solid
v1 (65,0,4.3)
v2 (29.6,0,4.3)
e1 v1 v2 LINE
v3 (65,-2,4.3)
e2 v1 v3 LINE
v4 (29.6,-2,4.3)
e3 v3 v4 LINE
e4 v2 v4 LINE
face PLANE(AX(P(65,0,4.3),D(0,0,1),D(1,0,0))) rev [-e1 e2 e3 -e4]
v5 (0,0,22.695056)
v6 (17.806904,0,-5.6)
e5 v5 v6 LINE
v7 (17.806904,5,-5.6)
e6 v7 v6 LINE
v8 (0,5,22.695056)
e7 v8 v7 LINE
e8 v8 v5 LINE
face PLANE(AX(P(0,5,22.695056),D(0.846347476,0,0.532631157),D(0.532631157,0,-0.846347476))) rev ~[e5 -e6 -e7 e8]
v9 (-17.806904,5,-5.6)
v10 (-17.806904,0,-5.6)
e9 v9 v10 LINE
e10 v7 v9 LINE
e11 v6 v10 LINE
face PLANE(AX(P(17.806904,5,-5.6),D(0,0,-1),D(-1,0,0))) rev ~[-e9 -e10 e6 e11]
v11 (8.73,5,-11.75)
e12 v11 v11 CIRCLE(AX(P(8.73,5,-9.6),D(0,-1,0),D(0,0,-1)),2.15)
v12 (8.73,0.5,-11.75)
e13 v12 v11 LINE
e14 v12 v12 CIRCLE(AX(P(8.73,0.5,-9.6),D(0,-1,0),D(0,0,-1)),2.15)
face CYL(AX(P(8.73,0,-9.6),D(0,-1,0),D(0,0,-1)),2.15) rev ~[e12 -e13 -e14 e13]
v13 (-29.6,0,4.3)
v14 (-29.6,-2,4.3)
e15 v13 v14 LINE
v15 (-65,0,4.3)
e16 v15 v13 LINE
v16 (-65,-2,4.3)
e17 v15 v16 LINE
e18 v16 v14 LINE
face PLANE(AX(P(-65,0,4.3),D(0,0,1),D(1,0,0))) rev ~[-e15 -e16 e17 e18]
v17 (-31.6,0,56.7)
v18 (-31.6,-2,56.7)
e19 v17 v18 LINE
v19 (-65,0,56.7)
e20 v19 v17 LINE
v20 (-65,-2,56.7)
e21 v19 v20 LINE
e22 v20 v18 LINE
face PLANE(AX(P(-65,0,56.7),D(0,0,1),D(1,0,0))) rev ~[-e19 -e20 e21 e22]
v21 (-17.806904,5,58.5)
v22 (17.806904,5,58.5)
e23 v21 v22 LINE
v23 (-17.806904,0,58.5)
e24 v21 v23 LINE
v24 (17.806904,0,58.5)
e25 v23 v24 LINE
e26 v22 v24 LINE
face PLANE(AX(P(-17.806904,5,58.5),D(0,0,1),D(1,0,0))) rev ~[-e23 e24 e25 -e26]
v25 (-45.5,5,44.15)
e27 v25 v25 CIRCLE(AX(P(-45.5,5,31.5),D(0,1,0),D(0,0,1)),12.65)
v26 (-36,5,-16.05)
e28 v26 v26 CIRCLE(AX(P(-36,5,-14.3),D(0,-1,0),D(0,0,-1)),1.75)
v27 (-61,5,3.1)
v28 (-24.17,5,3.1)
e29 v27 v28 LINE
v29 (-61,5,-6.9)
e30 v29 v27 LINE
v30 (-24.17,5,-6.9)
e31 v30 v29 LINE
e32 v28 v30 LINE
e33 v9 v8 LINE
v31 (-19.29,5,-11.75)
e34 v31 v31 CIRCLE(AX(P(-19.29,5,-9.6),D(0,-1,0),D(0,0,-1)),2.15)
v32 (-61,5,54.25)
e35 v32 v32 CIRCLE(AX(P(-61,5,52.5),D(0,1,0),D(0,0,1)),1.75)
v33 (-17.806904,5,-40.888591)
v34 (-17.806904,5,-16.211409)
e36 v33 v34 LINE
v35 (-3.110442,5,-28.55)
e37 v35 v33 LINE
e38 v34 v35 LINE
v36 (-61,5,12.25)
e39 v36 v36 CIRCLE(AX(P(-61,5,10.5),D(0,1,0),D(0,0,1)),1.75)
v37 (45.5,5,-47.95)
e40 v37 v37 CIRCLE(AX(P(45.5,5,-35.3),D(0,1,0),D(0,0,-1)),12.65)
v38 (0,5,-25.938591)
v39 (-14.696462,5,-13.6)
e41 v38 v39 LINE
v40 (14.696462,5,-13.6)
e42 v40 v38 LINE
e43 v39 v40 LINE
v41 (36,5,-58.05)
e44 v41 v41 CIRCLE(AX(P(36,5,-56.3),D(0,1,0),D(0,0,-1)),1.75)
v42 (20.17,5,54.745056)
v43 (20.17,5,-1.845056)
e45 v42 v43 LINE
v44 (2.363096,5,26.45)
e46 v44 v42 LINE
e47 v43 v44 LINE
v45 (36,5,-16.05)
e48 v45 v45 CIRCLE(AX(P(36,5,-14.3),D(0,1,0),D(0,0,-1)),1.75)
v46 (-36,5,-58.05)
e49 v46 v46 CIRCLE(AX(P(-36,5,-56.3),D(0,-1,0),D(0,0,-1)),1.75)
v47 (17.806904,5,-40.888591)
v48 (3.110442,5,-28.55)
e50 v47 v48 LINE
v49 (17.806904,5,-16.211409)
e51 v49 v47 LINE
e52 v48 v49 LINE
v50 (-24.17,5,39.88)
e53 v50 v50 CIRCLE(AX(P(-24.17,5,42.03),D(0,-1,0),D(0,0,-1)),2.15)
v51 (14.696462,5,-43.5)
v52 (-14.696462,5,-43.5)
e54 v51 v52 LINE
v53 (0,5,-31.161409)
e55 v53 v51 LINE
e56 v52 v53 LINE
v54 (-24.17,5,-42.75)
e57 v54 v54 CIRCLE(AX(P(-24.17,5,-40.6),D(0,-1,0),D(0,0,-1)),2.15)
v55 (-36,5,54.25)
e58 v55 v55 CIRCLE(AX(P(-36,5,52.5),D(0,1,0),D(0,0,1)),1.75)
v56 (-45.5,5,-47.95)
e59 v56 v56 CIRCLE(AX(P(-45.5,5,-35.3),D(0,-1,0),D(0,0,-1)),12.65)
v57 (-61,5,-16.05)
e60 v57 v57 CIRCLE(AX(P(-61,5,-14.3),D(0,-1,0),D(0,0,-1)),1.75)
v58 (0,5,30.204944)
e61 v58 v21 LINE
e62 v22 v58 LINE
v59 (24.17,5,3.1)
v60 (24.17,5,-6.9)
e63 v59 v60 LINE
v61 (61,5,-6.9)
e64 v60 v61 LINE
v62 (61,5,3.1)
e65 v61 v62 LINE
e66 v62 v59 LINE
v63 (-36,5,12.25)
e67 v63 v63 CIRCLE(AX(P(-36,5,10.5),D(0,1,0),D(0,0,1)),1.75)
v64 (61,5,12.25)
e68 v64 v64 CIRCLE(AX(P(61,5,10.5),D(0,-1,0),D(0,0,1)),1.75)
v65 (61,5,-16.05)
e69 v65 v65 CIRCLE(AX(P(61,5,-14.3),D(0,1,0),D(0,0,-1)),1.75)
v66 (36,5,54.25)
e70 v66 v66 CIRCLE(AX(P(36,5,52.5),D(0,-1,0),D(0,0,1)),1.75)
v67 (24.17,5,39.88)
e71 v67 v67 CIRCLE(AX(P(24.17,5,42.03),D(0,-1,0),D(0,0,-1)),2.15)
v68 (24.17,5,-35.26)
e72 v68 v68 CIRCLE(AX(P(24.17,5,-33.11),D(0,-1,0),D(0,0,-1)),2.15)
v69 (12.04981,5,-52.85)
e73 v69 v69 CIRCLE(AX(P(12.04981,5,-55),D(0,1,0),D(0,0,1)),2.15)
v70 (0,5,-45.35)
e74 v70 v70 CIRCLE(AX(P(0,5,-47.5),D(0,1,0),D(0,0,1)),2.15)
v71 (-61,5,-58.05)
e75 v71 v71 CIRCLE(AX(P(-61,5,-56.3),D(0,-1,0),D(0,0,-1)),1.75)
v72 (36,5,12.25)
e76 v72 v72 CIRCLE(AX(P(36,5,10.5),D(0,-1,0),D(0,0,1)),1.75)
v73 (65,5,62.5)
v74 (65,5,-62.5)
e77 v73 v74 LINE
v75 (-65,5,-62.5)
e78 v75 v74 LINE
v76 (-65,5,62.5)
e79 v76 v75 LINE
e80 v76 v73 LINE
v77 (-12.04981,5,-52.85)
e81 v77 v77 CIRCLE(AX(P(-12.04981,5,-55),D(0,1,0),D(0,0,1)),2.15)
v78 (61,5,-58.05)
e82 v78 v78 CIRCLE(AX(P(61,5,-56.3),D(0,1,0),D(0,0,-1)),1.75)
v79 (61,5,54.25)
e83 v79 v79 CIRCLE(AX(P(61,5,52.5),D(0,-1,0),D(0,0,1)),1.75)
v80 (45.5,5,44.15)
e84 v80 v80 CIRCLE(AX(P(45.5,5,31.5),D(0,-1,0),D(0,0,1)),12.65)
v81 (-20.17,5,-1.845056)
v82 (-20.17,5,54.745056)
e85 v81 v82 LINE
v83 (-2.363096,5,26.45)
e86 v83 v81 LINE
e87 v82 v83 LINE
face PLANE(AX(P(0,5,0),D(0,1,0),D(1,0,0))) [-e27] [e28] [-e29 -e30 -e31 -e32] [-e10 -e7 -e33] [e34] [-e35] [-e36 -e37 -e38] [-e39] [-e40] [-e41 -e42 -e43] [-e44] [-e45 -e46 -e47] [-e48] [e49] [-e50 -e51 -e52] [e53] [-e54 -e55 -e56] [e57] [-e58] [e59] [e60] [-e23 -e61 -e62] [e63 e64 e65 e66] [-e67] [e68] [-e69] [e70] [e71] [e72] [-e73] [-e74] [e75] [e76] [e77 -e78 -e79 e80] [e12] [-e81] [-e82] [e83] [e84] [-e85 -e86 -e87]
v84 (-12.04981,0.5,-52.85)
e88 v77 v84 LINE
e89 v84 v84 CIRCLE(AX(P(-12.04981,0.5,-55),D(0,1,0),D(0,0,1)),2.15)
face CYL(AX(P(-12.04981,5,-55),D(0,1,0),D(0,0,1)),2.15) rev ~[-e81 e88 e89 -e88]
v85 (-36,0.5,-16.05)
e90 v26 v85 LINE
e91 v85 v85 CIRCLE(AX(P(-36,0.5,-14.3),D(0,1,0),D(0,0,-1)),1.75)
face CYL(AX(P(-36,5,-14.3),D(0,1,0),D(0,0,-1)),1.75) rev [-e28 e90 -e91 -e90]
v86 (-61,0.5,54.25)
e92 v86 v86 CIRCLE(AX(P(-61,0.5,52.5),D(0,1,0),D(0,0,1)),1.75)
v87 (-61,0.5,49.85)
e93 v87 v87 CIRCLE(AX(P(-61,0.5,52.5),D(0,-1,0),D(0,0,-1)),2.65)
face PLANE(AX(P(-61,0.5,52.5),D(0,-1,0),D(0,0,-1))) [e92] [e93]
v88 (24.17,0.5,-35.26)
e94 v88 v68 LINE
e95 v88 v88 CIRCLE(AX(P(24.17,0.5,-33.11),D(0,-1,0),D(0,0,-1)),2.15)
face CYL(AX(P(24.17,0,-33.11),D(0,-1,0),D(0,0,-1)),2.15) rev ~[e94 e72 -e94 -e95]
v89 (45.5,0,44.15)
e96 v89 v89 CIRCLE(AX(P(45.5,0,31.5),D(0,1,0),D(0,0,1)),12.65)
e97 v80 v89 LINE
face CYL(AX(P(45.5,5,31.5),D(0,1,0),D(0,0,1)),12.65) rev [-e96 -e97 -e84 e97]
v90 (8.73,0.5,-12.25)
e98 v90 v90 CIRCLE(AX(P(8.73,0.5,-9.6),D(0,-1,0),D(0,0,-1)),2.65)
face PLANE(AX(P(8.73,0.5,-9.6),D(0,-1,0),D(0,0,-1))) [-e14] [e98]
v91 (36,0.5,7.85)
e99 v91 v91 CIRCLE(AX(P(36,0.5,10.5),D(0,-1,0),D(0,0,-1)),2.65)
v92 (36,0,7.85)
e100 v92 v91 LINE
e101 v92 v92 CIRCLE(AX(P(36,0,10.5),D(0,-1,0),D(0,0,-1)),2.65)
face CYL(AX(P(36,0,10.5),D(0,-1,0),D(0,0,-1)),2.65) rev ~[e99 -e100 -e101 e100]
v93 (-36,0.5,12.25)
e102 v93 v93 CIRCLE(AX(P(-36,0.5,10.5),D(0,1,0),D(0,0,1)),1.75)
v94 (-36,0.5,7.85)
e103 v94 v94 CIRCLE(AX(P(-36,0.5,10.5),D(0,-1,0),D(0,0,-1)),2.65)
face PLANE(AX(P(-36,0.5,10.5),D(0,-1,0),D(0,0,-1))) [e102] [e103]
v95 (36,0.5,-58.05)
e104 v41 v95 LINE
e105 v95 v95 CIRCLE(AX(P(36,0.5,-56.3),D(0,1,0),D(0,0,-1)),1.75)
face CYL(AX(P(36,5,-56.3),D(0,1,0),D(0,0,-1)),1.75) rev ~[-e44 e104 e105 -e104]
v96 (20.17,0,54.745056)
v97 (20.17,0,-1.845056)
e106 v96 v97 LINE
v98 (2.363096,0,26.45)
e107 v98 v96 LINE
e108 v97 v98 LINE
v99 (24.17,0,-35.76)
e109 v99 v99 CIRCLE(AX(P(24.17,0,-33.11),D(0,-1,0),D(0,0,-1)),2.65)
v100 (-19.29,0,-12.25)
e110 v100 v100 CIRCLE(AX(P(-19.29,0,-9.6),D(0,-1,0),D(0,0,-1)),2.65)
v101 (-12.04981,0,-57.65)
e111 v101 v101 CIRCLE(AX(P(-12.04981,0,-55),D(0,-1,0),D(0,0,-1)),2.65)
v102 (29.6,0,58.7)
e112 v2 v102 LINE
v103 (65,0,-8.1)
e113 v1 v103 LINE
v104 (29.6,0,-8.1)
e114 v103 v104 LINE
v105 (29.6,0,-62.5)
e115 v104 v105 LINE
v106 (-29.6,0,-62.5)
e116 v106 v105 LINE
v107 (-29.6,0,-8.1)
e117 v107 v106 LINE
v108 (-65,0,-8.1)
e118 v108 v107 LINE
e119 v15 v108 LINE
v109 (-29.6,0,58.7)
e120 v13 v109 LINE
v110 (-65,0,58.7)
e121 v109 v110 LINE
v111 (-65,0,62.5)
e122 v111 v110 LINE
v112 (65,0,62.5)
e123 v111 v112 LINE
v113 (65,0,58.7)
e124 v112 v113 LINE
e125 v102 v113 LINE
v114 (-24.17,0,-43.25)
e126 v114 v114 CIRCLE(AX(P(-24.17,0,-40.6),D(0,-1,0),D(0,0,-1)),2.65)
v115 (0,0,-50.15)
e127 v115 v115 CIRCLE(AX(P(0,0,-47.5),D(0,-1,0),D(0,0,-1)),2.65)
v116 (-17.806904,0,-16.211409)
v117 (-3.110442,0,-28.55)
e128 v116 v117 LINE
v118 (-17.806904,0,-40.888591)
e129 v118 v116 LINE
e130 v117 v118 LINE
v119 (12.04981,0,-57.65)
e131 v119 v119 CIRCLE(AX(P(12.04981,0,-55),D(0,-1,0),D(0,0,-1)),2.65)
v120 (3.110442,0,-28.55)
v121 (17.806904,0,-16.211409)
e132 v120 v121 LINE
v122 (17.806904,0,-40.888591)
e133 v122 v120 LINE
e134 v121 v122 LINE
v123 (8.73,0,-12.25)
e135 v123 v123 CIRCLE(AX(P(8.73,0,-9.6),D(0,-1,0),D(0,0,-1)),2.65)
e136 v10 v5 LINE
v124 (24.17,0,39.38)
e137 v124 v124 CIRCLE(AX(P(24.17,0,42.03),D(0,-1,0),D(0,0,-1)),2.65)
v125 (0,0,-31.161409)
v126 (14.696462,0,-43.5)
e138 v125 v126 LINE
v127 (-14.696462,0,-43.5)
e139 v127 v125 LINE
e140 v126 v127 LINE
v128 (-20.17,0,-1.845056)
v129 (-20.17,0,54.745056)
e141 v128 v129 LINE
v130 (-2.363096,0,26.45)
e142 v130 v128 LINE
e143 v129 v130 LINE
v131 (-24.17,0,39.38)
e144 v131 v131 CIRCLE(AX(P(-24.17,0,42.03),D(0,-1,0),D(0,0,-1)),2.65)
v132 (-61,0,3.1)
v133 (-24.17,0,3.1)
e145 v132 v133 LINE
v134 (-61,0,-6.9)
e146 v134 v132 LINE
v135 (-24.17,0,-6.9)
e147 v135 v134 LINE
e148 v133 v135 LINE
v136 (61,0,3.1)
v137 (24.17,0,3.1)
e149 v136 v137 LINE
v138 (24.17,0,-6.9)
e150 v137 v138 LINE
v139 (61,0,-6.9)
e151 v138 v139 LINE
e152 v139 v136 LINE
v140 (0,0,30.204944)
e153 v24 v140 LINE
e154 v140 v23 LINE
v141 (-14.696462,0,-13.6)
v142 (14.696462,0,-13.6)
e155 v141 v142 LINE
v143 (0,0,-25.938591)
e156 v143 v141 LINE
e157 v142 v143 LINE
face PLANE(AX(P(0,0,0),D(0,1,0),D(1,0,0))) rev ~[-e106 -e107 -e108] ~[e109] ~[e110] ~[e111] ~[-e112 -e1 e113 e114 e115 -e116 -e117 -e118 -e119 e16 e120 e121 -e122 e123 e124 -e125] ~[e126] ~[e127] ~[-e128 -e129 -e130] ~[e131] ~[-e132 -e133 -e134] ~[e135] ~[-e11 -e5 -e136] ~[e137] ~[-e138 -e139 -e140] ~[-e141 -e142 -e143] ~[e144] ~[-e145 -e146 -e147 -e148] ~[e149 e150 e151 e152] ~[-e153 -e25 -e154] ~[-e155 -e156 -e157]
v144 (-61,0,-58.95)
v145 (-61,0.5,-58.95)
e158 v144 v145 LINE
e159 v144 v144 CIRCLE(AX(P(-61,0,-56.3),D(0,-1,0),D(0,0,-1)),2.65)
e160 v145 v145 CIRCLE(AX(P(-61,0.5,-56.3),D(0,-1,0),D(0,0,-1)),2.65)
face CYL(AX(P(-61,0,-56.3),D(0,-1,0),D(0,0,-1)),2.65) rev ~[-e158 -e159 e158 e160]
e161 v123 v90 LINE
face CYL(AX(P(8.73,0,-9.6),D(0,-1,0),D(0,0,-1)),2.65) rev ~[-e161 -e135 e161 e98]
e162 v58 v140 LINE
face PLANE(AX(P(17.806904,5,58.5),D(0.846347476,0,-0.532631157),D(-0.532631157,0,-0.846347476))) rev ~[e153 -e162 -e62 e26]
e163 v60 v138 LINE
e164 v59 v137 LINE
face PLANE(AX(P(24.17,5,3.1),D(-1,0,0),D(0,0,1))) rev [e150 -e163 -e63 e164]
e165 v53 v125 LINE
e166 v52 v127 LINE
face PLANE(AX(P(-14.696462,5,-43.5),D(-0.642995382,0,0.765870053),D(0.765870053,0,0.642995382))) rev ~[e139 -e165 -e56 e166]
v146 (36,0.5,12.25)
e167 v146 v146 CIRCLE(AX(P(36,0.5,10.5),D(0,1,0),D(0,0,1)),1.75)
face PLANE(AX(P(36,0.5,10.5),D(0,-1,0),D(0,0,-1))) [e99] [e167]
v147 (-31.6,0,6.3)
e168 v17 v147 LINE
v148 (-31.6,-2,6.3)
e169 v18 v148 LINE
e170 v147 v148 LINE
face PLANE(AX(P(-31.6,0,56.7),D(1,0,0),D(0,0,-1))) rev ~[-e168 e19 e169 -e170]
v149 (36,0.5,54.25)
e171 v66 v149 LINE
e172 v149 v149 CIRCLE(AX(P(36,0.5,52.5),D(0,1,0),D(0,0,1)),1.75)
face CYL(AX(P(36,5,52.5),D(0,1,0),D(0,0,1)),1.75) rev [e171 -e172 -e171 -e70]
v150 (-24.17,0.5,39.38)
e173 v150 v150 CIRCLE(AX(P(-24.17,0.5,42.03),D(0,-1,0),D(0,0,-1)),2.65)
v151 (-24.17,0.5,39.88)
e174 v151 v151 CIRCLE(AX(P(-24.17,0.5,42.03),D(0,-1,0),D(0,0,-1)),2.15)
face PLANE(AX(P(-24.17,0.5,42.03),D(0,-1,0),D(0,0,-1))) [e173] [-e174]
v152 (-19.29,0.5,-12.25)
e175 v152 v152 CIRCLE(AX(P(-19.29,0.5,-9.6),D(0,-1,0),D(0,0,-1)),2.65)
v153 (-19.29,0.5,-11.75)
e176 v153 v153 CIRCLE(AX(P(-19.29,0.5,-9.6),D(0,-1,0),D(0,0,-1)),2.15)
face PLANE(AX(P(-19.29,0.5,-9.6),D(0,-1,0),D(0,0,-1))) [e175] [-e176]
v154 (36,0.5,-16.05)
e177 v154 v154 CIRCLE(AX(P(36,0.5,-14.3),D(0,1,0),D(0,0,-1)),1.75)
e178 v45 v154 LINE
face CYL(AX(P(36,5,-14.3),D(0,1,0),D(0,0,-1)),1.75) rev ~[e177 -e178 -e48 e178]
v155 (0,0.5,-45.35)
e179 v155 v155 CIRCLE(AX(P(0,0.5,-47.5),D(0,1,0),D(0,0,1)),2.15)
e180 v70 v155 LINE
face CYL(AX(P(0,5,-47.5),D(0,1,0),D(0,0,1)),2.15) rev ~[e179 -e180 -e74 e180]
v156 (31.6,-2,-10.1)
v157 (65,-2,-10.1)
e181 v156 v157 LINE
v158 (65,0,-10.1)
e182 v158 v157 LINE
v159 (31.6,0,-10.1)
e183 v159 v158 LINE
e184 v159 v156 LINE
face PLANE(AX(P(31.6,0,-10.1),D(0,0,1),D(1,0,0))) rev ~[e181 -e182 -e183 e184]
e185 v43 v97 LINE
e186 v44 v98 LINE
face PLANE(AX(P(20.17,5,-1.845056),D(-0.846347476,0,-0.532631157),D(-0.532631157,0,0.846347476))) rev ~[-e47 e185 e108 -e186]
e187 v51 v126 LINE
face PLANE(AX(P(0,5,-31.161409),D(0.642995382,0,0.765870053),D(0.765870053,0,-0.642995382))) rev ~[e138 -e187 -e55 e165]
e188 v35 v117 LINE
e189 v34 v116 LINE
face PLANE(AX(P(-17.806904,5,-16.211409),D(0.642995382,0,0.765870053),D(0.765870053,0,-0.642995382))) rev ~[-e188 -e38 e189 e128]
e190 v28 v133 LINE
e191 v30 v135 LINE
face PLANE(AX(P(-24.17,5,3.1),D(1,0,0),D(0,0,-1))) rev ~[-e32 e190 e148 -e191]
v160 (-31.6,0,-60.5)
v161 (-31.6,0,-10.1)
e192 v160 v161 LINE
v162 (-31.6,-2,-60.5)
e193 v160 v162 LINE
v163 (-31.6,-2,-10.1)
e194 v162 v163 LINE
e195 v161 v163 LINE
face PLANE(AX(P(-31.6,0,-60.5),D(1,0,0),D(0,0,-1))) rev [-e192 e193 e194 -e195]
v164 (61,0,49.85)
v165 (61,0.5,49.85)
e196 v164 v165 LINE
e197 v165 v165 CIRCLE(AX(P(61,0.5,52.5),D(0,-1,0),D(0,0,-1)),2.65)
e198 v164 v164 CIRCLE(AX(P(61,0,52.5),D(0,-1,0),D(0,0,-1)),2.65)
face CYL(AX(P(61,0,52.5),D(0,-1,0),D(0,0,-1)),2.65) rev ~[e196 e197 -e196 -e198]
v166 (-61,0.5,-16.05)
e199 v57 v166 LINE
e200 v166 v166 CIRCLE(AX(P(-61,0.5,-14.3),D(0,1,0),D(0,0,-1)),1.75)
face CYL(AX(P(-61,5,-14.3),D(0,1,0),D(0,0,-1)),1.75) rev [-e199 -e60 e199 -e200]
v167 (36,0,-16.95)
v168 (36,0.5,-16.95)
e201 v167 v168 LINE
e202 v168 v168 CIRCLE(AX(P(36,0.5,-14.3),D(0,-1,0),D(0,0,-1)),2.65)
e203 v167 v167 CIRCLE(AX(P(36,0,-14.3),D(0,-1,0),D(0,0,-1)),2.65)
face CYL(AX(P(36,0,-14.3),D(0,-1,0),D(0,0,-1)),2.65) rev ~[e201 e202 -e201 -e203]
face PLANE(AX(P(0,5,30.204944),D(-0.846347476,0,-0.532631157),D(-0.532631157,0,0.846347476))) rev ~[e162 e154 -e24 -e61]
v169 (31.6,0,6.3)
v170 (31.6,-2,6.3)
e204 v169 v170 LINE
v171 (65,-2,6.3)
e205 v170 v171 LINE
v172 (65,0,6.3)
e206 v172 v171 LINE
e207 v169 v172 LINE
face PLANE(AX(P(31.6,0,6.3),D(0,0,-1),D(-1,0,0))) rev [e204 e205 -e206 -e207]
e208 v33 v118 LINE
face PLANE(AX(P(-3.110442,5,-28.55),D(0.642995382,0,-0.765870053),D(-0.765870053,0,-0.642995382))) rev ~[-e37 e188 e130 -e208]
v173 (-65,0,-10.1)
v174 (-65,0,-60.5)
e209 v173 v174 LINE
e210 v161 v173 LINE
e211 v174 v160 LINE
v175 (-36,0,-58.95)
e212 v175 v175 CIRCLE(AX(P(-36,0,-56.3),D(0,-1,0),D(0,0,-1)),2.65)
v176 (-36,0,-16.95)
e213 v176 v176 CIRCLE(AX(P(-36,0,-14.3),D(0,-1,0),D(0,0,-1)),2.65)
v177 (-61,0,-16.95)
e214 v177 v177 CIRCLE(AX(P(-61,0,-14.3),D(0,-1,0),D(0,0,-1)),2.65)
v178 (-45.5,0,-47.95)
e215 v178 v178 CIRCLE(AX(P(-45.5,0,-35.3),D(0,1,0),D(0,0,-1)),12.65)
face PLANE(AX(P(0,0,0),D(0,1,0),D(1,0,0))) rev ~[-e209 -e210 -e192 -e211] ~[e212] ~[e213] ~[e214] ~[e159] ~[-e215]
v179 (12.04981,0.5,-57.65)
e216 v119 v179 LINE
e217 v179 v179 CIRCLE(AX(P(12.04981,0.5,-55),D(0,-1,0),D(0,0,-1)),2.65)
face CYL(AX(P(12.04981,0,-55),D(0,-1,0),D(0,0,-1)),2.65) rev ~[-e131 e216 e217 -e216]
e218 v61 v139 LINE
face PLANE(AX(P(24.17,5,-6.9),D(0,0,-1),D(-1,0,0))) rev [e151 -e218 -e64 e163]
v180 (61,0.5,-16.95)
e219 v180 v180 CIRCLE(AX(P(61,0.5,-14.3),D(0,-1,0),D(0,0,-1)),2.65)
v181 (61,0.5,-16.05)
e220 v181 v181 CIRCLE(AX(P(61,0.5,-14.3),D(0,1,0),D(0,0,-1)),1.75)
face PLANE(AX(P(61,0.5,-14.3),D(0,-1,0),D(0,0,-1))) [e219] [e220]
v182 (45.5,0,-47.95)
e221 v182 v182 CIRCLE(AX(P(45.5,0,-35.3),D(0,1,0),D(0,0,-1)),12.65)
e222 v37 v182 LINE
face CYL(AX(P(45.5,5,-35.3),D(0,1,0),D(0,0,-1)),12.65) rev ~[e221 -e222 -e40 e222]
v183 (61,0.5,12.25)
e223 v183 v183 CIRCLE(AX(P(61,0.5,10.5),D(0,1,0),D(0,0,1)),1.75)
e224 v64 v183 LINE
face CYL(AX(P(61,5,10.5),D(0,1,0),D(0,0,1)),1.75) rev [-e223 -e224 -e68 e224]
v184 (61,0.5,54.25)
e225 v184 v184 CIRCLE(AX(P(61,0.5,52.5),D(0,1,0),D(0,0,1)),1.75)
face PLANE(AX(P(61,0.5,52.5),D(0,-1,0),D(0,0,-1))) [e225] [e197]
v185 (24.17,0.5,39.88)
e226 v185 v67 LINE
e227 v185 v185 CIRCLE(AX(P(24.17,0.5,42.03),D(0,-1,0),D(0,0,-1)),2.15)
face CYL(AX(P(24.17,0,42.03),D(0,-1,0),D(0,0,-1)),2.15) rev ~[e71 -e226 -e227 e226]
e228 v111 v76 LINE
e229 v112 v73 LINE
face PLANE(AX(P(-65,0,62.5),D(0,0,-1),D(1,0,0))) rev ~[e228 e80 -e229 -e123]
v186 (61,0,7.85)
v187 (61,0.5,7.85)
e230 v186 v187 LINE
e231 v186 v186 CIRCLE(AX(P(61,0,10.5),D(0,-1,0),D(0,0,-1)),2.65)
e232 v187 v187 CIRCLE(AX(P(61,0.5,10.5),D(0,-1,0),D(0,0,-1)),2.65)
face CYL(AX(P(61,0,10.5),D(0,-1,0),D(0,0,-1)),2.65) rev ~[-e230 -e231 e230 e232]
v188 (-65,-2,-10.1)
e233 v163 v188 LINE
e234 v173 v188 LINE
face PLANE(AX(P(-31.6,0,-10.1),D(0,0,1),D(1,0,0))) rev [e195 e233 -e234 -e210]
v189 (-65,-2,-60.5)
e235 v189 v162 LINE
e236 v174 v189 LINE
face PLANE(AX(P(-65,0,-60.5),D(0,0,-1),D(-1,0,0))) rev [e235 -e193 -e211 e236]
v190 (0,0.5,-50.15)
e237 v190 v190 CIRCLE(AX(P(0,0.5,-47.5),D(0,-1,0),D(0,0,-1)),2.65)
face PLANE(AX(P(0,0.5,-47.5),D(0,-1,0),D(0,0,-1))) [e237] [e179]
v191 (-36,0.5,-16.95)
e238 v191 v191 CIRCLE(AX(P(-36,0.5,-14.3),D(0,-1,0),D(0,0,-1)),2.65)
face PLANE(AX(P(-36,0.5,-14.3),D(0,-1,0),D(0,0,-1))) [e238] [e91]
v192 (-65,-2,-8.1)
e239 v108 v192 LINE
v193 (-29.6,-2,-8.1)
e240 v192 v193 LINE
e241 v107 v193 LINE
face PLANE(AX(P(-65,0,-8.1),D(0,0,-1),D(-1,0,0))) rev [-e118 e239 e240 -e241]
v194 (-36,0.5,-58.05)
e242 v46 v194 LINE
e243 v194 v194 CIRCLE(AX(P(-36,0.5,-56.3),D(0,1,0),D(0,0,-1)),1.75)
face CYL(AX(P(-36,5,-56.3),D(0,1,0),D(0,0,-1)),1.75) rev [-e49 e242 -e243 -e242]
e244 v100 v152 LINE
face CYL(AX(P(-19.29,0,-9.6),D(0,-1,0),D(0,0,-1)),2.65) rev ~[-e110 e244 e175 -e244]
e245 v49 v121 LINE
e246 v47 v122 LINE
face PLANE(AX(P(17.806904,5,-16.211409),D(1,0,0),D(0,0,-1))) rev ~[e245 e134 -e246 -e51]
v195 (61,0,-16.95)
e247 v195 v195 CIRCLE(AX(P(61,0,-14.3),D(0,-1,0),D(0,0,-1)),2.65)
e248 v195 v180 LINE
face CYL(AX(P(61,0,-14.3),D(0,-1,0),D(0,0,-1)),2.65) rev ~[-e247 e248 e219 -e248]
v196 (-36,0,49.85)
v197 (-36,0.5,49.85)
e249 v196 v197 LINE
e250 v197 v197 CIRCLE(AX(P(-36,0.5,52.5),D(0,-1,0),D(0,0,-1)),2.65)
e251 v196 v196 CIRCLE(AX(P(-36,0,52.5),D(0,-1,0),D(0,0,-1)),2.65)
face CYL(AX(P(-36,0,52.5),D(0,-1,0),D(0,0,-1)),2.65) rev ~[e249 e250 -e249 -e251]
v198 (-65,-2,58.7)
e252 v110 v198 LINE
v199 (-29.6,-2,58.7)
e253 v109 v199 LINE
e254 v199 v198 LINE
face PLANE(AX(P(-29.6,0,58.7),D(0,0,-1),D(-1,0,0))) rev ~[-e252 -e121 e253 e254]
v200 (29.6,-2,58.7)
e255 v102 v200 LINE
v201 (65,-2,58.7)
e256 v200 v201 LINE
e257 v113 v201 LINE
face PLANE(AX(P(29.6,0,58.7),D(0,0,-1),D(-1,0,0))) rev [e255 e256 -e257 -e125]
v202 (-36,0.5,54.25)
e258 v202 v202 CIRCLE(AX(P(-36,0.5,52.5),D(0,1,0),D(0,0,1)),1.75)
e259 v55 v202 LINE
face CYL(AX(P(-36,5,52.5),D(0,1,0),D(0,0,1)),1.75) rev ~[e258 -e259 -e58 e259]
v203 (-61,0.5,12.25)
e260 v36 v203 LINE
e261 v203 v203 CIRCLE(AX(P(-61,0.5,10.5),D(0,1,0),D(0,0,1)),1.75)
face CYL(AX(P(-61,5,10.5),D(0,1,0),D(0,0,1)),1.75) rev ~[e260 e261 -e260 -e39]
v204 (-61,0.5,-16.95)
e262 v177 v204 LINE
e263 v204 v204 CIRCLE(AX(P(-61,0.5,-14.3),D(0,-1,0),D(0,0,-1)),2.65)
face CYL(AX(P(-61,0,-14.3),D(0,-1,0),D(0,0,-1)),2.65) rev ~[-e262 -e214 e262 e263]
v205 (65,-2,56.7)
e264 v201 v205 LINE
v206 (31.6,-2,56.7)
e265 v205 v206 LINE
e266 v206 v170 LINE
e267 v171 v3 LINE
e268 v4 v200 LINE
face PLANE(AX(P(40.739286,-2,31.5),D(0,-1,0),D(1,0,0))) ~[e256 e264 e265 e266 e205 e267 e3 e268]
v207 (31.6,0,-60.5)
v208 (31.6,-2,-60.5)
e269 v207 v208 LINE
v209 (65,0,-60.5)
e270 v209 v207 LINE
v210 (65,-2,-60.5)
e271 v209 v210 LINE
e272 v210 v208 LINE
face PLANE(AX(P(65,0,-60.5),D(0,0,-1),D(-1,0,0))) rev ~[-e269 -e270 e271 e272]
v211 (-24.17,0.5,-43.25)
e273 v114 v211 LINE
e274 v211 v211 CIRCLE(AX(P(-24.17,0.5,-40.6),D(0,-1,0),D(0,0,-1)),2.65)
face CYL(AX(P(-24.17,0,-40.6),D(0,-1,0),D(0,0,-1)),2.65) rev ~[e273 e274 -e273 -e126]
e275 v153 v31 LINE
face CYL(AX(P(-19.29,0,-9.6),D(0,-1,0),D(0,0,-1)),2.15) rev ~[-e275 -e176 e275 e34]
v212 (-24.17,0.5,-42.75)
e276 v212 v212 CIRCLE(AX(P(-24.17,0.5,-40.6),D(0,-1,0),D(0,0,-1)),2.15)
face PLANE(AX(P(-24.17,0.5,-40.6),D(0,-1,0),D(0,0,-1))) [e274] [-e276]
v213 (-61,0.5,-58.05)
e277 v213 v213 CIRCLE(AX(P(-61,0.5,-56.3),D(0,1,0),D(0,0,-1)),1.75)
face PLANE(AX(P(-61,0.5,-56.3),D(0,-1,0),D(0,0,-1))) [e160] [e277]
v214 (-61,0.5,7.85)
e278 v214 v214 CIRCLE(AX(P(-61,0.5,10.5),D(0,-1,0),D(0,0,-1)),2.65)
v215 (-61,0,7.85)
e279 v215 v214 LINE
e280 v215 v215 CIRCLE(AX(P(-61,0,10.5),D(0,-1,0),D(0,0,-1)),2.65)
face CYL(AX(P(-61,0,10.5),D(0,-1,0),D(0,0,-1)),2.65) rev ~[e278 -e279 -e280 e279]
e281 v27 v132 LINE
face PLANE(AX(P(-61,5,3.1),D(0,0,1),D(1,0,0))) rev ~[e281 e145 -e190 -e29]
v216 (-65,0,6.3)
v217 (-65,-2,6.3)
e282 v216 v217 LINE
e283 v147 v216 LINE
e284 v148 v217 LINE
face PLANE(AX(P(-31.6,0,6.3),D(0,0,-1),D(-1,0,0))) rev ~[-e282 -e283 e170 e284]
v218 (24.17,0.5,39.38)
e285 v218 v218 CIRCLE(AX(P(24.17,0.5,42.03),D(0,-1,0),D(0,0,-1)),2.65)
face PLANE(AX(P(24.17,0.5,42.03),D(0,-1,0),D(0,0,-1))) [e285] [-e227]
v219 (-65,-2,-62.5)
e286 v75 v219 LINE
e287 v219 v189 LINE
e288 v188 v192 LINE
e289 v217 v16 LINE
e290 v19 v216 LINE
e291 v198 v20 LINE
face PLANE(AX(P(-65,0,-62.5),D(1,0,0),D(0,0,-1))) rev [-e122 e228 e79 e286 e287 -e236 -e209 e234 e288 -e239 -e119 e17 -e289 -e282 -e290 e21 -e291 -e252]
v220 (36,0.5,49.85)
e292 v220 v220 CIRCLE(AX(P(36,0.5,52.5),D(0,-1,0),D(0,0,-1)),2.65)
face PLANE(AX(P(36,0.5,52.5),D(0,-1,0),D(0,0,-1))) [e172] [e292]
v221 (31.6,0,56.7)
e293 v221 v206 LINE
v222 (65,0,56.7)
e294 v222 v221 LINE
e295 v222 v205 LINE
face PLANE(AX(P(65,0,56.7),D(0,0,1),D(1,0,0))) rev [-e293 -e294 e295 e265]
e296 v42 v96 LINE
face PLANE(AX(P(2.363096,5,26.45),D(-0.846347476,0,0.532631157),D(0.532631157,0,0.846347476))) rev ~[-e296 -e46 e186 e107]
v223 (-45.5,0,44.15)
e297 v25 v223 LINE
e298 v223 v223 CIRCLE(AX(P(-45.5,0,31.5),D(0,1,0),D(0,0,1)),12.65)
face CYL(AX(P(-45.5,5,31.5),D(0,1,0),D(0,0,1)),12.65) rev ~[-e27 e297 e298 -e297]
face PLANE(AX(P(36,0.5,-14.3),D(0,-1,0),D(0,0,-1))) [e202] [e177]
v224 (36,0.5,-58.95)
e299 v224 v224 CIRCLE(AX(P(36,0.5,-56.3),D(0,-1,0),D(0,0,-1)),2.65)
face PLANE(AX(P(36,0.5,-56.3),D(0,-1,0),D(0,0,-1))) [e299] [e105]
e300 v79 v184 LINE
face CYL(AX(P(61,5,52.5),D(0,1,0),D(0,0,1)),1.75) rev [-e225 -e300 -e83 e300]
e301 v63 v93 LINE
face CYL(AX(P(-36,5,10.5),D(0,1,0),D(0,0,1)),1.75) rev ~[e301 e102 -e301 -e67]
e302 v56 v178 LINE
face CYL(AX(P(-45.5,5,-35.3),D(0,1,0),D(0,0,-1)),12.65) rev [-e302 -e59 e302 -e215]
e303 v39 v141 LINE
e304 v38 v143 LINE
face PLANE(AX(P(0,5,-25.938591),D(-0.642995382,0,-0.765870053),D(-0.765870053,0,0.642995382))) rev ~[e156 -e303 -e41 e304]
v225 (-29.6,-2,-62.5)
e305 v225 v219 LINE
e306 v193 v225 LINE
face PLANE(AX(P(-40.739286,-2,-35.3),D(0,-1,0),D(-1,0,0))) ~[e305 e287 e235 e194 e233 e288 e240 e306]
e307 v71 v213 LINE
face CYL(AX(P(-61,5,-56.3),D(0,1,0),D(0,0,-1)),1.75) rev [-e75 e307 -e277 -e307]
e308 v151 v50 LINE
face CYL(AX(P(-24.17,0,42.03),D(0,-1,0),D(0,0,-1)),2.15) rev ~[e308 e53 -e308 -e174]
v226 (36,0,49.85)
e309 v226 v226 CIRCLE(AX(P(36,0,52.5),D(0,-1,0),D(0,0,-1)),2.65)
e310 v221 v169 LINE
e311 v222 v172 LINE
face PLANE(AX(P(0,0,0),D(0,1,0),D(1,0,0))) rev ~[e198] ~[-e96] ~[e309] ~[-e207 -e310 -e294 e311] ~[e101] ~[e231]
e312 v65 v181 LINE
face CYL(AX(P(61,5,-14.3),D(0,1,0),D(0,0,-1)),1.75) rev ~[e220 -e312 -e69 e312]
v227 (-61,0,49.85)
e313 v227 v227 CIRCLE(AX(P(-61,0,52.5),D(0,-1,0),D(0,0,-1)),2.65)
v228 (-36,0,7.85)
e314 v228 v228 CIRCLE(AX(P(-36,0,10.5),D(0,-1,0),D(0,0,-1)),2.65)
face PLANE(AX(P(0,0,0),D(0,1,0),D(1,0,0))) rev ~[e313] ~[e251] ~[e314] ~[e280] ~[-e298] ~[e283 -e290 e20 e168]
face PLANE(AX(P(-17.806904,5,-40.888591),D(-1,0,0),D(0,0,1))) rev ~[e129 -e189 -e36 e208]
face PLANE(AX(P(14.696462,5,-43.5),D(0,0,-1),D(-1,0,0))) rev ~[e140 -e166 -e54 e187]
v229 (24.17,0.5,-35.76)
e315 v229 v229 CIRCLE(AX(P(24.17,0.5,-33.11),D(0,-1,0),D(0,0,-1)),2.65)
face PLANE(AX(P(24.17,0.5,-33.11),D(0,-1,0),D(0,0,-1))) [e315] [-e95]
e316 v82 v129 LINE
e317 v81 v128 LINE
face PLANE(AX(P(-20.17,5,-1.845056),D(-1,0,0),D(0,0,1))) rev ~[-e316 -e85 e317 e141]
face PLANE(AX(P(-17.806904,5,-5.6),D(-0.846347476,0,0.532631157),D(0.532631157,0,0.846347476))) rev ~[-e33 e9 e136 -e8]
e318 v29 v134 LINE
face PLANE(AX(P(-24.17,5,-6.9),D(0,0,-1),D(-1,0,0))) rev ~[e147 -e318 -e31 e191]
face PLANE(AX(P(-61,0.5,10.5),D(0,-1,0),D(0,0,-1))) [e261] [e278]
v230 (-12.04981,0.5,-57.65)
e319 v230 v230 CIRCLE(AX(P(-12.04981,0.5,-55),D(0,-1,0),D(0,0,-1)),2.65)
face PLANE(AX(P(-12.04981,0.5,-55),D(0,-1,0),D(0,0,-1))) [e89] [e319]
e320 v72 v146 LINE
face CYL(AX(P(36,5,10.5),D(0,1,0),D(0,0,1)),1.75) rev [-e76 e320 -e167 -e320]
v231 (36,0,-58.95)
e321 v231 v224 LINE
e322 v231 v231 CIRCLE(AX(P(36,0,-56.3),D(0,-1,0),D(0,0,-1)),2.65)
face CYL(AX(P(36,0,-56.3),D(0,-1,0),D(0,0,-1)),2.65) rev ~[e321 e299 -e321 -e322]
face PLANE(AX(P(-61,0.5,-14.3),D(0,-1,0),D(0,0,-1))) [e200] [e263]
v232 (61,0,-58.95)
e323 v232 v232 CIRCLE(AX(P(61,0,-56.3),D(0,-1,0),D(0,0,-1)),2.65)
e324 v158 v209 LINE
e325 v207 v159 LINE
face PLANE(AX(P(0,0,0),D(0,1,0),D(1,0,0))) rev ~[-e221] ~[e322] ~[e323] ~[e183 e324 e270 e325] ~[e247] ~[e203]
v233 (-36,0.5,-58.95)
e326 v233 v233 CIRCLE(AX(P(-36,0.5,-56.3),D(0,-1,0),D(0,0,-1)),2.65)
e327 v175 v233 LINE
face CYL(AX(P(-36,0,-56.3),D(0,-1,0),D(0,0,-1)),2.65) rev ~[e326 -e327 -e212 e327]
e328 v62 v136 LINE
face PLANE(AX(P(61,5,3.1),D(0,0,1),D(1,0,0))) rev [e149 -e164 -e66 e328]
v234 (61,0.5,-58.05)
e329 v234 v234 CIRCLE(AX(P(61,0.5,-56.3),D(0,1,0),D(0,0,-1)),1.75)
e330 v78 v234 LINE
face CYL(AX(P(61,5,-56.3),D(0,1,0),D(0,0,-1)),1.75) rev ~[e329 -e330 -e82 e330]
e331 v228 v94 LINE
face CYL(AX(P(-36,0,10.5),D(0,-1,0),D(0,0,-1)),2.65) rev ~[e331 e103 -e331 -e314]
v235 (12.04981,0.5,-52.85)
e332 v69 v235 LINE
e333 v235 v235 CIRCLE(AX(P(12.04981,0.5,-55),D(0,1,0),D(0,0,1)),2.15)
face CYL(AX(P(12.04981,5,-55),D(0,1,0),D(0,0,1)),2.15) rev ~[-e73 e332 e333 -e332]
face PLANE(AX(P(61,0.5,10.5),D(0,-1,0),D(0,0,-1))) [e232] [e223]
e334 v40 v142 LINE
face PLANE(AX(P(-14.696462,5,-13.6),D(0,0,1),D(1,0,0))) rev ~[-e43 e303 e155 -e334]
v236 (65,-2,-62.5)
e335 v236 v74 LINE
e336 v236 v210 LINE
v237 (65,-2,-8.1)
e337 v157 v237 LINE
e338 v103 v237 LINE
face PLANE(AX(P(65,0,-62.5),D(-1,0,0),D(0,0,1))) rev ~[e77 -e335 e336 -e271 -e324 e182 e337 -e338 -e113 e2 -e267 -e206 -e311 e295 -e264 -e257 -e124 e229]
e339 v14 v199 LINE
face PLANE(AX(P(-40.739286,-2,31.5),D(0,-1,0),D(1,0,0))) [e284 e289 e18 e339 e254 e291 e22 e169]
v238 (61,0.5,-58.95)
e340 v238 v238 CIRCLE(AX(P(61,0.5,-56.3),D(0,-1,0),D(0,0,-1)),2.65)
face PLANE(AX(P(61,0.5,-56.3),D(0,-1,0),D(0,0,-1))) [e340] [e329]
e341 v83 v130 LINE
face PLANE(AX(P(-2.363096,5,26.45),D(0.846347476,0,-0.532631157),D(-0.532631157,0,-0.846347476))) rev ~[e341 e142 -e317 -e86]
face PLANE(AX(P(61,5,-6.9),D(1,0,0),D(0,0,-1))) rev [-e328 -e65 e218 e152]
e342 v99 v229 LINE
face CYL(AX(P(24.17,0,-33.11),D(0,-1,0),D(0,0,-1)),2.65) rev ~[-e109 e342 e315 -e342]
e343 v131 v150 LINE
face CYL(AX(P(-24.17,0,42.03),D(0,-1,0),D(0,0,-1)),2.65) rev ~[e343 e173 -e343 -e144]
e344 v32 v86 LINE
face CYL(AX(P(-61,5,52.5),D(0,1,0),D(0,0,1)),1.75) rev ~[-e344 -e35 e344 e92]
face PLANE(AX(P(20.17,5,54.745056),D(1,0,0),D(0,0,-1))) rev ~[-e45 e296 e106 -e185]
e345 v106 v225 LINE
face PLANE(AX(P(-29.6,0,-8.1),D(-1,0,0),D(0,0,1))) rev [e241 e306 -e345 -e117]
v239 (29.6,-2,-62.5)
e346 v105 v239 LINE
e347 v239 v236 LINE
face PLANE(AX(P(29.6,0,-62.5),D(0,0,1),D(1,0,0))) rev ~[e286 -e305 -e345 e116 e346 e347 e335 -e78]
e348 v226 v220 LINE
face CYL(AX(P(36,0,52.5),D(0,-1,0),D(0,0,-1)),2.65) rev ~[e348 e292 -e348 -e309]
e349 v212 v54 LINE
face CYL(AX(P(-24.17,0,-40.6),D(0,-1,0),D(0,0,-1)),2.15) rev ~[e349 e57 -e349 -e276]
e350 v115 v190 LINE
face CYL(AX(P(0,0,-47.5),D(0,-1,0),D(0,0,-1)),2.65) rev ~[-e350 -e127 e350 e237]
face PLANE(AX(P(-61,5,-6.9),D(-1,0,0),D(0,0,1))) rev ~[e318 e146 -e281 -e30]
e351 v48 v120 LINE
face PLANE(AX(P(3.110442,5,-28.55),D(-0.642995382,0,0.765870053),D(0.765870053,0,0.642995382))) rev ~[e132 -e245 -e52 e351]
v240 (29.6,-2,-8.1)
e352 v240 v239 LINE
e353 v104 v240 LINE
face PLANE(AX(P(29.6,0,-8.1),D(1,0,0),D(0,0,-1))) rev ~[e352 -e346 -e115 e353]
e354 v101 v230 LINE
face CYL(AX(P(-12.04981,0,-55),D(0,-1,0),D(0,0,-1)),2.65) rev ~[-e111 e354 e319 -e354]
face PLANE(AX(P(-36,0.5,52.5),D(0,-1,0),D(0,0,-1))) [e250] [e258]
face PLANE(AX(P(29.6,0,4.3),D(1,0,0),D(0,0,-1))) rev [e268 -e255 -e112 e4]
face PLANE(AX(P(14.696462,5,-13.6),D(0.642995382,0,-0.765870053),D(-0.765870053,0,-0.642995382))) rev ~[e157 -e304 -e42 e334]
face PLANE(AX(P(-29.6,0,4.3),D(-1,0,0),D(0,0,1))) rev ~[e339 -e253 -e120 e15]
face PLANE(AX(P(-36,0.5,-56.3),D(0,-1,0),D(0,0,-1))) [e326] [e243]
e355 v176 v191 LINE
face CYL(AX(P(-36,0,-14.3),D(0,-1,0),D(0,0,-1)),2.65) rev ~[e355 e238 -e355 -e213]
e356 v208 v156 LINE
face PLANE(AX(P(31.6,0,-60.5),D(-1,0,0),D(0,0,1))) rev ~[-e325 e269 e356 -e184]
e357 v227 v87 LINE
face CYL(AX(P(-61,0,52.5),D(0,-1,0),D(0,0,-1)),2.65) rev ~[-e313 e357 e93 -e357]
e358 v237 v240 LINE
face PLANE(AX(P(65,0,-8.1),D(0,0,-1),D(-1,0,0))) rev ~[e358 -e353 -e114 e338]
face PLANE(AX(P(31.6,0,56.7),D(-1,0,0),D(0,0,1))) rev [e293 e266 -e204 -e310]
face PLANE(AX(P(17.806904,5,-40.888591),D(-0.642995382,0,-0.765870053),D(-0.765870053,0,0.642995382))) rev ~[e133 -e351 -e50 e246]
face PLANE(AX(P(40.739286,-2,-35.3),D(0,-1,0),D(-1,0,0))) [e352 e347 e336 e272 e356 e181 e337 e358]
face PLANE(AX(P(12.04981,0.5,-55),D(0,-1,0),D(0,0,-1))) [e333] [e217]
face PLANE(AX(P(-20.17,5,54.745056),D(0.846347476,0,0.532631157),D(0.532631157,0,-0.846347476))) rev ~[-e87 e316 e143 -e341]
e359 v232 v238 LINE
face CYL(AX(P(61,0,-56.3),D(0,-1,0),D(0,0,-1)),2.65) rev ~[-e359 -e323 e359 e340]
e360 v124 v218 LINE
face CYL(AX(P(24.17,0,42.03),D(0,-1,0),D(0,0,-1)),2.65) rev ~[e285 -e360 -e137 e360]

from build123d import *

# Parameters (mm, degrees)
SKETCH1_W                 = 130
SKETCH1_H                 = 125
BOSS_EXTRUDE1_DEPTH       = 5
SKETCH2_R                 = 1.75
SKETCH2_R_2               = 12.65
CUT_EXTRUDE1_DEPTH        = 10
SKETCH4_R                 = 2.15
CUT_EXTRUDE3_DEPTH        = 10
BOSS_EXTRUDE2_DEPTH       = 2
MIRROR7_COPY_1_SKETCH_R   = 1.75
MIRROR7_COPY_1_SKETCH_R_2 = 12.65
MIRROR7_COPY_1_DEPTH      = 10
MIRROR7_COPY_2_SKETCH_R   = 1.75
MIRROR7_COPY_2_SKETCH_R_2 = 12.65
MIRROR7_COPY_2_DEPTH      = 10
MIRROR7_COPY_3_DEPTH      = 2
SKETCH10_R                = 2.15
CUT_EXTRUDE8_DEPTH        = 91.311959341
SKETCH11_R                = 2.65
CUT_EXTRUDE9_DEPTH        = 0.5
CUT_EXTRUDE10_DEPTH       = 91.444734507
CUT_EXTRUDE11_DEPTH       = 91.444734507
CUT_EXTRUDE12_DEPTH       = 91.444734507


with BuildPart() as part:
    # Sketch1 → Boss-Extrude1 (new body)
    with BuildSketch(Plane(origin=(0, 0, 0), x_dir=(1, 0, 0), z_dir=(0, 1, 0))):
        Rectangle(SKETCH1_W, SKETCH1_H)
    extrude(amount=BOSS_EXTRUDE1_DEPTH)

    # Sketch2 → Cut-Extrude1 (cut)
    with BuildSketch(Plane(origin=(0, 5, 0), x_dir=(1, 0, 0), z_dir=(0, 1, 0))):
        with Locations((-61, -52.5)):
            Circle(SKETCH2_R)
        with Locations((-36, -52.5)):
            Circle(SKETCH2_R)
        with Locations((-36, -10.5)):
            Circle(SKETCH2_R)
        with Locations((-61, -10.5)):
            Circle(SKETCH2_R)
        with Locations((-45.5, -31.5)):
            Circle(SKETCH2_R_2)
    cut_extrude1 = extrude(amount=-CUT_EXTRUDE1_DEPTH, mode=Mode.SUBTRACT)

    # Mirror3: Cut-Extrude1 across plane
    add(cut_extrude1.mirror(Plane.ZY), mode=Mode.SUBTRACT)

    # Sketch4 → Cut-Extrude3 (cut)
    with BuildSketch(Plane(origin=(0, 5, 0), x_dir=(1, 0, 0), z_dir=(0, 1, 0))):
        with Locations((0, 47.5)):
            Circle(SKETCH4_R)
        with Locations((12.049810205, 55)):
            Circle(SKETCH4_R)
        with Locations((-12.049810205, 55)):
            Circle(SKETCH4_R)
    extrude(amount=-CUT_EXTRUDE3_DEPTH, mode=Mode.SUBTRACT)

    # Sketch5 → Boss-Extrude2 (add)
    with BuildSketch(Plane.XZ):
        Polygon((-65, 58.7), (-65, 56.7), (-31.6, 56.7), (-31.6, 6.3), (-65, 6.3), (-65, 4.3), (-29.6, 4.3), (-29.6, 58.7), align=None)
    boss_extrude2 = extrude(amount=BOSS_EXTRUDE2_DEPTH)

    # Mirror5: Boss-Extrude2 across plane
    add(boss_extrude2.mirror(Plane.ZY))

    # Mirror7: Boss-Extrude2 across plane
    add(boss_extrude2.mirror(Plane.XY.offset(-1.9)))

    # Mirror7 copy 1 sketch → Mirror7 copy 1 (cut)
    with BuildSketch(Plane(origin=(0, 5, -3.8), x_dir=(-1, 0, 0), z_dir=(0, 1, 0))):
        with Locations((-61, -52.5)):
            Circle(MIRROR7_COPY_1_SKETCH_R)
        with Locations((-36, -52.5)):
            Circle(MIRROR7_COPY_1_SKETCH_R)
        with Locations((-36, -10.5)):
            Circle(MIRROR7_COPY_1_SKETCH_R)
        with Locations((-61, -10.5)):
            Circle(MIRROR7_COPY_1_SKETCH_R)
        with Locations((-45.5, -31.5)):
            Circle(MIRROR7_COPY_1_SKETCH_R_2)
    extrude(amount=-MIRROR7_COPY_1_DEPTH, mode=Mode.SUBTRACT)

    # Mirror7 copy 2 sketch → Mirror7 copy 2 (cut)
    with BuildSketch(Plane(origin=(0, 5, -3.8), x_dir=(1, 0, 0), z_dir=(0, 1, 0))):
        with Locations((-61, 52.5)):
            Circle(MIRROR7_COPY_2_SKETCH_R)
        with Locations((-36, 52.5)):
            Circle(MIRROR7_COPY_2_SKETCH_R)
        with Locations((-36, 10.5)):
            Circle(MIRROR7_COPY_2_SKETCH_R)
        with Locations((-61, 10.5)):
            Circle(MIRROR7_COPY_2_SKETCH_R)
        with Locations((-45.5, 31.5)):
            Circle(MIRROR7_COPY_2_SKETCH_R_2)
    extrude(amount=-MIRROR7_COPY_2_DEPTH, mode=Mode.SUBTRACT)

    # Mirror7 copy 3 sketch → Mirror7 copy 3 (add)
    with BuildSketch(Plane(origin=(0, 0, -3.8), x_dir=(-1, 0, 0), z_dir=(0, -1, 0))):
        Polygon((-65, 58.7), (-65, 56.7), (-31.6, 56.7), (-31.6, 6.3), (-65, 6.3), (-65, 4.3), (-29.6, 4.3), (-29.6, 58.7), align=None)
    extrude(amount=MIRROR7_COPY_3_DEPTH)

    # Sketch10 → Cut-Extrude8 (cut, through all)
    with BuildSketch(Plane(origin=(0, 0, 0), x_dir=(-1, 0, 0), z_dir=(0, -1, 0))):
        with Locations((-24.17, -42.03)):
            Circle(SKETCH10_R)
        with Locations((24.17, -42.03)):
            Circle(SKETCH10_R)
        with Locations((-8.73, 9.6)):
            Circle(SKETCH10_R)
        with Locations((19.29, 9.6)):
            Circle(SKETCH10_R)
        with Locations((-24.17, 33.11)):
            Circle(SKETCH10_R)
        with Locations((24.17, 40.6)):
            Circle(SKETCH10_R)
    extrude(amount=-CUT_EXTRUDE8_DEPTH, mode=Mode.SUBTRACT)

    # Sketch11 → Cut-Extrude9 (cut)
    with BuildSketch(Plane.XZ):
        with Locations((-12.049810205, -55)):
            Circle(SKETCH11_R)
        with Locations((0, -47.5)):
            Circle(SKETCH11_R)
        with Locations((12.049810205, -55)):
            Circle(SKETCH11_R)
        with Locations((-24.17, -40.6)):
            Circle(SKETCH11_R)
        with Locations((24.17, -33.11)):
            Circle(SKETCH11_R)
        with Locations((8.73, -9.6)):
            Circle(SKETCH11_R)
        with Locations((-19.29, -9.6)):
            Circle(SKETCH11_R)
        with Locations((-24.17, 42.03)):
            Circle(SKETCH11_R)
        with Locations((24.17, 42.03)):
            Circle(SKETCH11_R)
        with Locations((-61, -14.3)):
            Circle(SKETCH11_R)
        with Locations((-36, -14.3)):
            Circle(SKETCH11_R)
        with Locations((-61, -56.3)):
            Circle(SKETCH11_R)
        with Locations((-36, -56.3)):
            Circle(SKETCH11_R)
        with Locations((36, -56.3)):
            Circle(SKETCH11_R)
        with Locations((61, -56.3)):
            Circle(SKETCH11_R)
        with Locations((36, -14.3)):
            Circle(SKETCH11_R)
        with Locations((61, -14.3)):
            Circle(SKETCH11_R)
        with Locations((36, 10.5)):
            Circle(SKETCH11_R)
        with Locations((61, 10.5)):
            Circle(SKETCH11_R)
        with Locations((61, 52.5)):
            Circle(SKETCH11_R)
        with Locations((36, 52.5)):
            Circle(SKETCH11_R)
        with Locations((-36, 52.5)):
            Circle(SKETCH11_R)
        with Locations((-36, 10.5)):
            Circle(SKETCH11_R)
        with Locations((-61, 10.5)):
            Circle(SKETCH11_R)
        with Locations((-61, 52.5)):
            Circle(SKETCH11_R)
    extrude(amount=-CUT_EXTRUDE9_DEPTH, mode=Mode.SUBTRACT)

    # Sketch12 → Cut-Extrude10 (cut, through all)
    with BuildSketch(Plane(origin=(0, 5, 0), x_dir=(1, 0, 0), z_dir=(0, 1, 0))):
        Polygon((17.806904396, 5.6), (-17.806904396, 5.6), (0, -22.695056316), align=None)
        Polygon((-2.363095604, -26.45), (-20.17, 1.845056316), (-20.17, -54.745056316), align=None)
        Polygon((20.17, -54.745056316), (20.17, 1.845056316), (2.363095604, -26.45), align=None)
        Polygon((0, -30.204943684), (-17.806904396, -58.5), (17.806904396, -58.5), align=None)
    extrude(amount=-CUT_EXTRUDE10_DEPTH, mode=Mode.SUBTRACT)

    # Sketch13 → Cut-Extrude11 (cut, through all)
    with BuildSketch(Plane(origin=(0, 5, 0), x_dir=(1, 0, 0), z_dir=(0, 1, 0))):
        Polygon((-61, 1.9), (-61, -3.1), (-24.17, -3.1), (-24.17, 6.9), (-61, 6.9), align=None)
    cut_extrude11 = extrude(amount=-CUT_EXTRUDE11_DEPTH, mode=Mode.SUBTRACT)

    # Mirror9: Cut-Extrude11 across plane
    add(cut_extrude11.mirror(Plane.ZY), mode=Mode.SUBTRACT)

    # Sketch14 → Cut-Extrude12 (cut, through all)
    with BuildSketch(Plane(origin=(0, 5, 0), x_dir=(1, 0, 0), z_dir=(0, 1, 0))):
        Polygon((14.696462151, 43.5), (-14.696462151, 43.5), (0, 31.161409065), align=None)
        Polygon((-3.110442245, 28.55), (-17.806904396, 40.888590935), (-17.806904396, 16.211409065), align=None)
        Polygon((17.806904396, 16.211409065), (17.806904396, 40.888590935), (3.110442245, 28.55), align=None)
        Polygon((0, 25.938590935), (-14.696462151, 13.6), (14.696462151, 13.6), align=None)
    extrude(amount=-CUT_EXTRUDE12_DEPTH, mode=Mode.SUBTRACT)


solid = part.part
